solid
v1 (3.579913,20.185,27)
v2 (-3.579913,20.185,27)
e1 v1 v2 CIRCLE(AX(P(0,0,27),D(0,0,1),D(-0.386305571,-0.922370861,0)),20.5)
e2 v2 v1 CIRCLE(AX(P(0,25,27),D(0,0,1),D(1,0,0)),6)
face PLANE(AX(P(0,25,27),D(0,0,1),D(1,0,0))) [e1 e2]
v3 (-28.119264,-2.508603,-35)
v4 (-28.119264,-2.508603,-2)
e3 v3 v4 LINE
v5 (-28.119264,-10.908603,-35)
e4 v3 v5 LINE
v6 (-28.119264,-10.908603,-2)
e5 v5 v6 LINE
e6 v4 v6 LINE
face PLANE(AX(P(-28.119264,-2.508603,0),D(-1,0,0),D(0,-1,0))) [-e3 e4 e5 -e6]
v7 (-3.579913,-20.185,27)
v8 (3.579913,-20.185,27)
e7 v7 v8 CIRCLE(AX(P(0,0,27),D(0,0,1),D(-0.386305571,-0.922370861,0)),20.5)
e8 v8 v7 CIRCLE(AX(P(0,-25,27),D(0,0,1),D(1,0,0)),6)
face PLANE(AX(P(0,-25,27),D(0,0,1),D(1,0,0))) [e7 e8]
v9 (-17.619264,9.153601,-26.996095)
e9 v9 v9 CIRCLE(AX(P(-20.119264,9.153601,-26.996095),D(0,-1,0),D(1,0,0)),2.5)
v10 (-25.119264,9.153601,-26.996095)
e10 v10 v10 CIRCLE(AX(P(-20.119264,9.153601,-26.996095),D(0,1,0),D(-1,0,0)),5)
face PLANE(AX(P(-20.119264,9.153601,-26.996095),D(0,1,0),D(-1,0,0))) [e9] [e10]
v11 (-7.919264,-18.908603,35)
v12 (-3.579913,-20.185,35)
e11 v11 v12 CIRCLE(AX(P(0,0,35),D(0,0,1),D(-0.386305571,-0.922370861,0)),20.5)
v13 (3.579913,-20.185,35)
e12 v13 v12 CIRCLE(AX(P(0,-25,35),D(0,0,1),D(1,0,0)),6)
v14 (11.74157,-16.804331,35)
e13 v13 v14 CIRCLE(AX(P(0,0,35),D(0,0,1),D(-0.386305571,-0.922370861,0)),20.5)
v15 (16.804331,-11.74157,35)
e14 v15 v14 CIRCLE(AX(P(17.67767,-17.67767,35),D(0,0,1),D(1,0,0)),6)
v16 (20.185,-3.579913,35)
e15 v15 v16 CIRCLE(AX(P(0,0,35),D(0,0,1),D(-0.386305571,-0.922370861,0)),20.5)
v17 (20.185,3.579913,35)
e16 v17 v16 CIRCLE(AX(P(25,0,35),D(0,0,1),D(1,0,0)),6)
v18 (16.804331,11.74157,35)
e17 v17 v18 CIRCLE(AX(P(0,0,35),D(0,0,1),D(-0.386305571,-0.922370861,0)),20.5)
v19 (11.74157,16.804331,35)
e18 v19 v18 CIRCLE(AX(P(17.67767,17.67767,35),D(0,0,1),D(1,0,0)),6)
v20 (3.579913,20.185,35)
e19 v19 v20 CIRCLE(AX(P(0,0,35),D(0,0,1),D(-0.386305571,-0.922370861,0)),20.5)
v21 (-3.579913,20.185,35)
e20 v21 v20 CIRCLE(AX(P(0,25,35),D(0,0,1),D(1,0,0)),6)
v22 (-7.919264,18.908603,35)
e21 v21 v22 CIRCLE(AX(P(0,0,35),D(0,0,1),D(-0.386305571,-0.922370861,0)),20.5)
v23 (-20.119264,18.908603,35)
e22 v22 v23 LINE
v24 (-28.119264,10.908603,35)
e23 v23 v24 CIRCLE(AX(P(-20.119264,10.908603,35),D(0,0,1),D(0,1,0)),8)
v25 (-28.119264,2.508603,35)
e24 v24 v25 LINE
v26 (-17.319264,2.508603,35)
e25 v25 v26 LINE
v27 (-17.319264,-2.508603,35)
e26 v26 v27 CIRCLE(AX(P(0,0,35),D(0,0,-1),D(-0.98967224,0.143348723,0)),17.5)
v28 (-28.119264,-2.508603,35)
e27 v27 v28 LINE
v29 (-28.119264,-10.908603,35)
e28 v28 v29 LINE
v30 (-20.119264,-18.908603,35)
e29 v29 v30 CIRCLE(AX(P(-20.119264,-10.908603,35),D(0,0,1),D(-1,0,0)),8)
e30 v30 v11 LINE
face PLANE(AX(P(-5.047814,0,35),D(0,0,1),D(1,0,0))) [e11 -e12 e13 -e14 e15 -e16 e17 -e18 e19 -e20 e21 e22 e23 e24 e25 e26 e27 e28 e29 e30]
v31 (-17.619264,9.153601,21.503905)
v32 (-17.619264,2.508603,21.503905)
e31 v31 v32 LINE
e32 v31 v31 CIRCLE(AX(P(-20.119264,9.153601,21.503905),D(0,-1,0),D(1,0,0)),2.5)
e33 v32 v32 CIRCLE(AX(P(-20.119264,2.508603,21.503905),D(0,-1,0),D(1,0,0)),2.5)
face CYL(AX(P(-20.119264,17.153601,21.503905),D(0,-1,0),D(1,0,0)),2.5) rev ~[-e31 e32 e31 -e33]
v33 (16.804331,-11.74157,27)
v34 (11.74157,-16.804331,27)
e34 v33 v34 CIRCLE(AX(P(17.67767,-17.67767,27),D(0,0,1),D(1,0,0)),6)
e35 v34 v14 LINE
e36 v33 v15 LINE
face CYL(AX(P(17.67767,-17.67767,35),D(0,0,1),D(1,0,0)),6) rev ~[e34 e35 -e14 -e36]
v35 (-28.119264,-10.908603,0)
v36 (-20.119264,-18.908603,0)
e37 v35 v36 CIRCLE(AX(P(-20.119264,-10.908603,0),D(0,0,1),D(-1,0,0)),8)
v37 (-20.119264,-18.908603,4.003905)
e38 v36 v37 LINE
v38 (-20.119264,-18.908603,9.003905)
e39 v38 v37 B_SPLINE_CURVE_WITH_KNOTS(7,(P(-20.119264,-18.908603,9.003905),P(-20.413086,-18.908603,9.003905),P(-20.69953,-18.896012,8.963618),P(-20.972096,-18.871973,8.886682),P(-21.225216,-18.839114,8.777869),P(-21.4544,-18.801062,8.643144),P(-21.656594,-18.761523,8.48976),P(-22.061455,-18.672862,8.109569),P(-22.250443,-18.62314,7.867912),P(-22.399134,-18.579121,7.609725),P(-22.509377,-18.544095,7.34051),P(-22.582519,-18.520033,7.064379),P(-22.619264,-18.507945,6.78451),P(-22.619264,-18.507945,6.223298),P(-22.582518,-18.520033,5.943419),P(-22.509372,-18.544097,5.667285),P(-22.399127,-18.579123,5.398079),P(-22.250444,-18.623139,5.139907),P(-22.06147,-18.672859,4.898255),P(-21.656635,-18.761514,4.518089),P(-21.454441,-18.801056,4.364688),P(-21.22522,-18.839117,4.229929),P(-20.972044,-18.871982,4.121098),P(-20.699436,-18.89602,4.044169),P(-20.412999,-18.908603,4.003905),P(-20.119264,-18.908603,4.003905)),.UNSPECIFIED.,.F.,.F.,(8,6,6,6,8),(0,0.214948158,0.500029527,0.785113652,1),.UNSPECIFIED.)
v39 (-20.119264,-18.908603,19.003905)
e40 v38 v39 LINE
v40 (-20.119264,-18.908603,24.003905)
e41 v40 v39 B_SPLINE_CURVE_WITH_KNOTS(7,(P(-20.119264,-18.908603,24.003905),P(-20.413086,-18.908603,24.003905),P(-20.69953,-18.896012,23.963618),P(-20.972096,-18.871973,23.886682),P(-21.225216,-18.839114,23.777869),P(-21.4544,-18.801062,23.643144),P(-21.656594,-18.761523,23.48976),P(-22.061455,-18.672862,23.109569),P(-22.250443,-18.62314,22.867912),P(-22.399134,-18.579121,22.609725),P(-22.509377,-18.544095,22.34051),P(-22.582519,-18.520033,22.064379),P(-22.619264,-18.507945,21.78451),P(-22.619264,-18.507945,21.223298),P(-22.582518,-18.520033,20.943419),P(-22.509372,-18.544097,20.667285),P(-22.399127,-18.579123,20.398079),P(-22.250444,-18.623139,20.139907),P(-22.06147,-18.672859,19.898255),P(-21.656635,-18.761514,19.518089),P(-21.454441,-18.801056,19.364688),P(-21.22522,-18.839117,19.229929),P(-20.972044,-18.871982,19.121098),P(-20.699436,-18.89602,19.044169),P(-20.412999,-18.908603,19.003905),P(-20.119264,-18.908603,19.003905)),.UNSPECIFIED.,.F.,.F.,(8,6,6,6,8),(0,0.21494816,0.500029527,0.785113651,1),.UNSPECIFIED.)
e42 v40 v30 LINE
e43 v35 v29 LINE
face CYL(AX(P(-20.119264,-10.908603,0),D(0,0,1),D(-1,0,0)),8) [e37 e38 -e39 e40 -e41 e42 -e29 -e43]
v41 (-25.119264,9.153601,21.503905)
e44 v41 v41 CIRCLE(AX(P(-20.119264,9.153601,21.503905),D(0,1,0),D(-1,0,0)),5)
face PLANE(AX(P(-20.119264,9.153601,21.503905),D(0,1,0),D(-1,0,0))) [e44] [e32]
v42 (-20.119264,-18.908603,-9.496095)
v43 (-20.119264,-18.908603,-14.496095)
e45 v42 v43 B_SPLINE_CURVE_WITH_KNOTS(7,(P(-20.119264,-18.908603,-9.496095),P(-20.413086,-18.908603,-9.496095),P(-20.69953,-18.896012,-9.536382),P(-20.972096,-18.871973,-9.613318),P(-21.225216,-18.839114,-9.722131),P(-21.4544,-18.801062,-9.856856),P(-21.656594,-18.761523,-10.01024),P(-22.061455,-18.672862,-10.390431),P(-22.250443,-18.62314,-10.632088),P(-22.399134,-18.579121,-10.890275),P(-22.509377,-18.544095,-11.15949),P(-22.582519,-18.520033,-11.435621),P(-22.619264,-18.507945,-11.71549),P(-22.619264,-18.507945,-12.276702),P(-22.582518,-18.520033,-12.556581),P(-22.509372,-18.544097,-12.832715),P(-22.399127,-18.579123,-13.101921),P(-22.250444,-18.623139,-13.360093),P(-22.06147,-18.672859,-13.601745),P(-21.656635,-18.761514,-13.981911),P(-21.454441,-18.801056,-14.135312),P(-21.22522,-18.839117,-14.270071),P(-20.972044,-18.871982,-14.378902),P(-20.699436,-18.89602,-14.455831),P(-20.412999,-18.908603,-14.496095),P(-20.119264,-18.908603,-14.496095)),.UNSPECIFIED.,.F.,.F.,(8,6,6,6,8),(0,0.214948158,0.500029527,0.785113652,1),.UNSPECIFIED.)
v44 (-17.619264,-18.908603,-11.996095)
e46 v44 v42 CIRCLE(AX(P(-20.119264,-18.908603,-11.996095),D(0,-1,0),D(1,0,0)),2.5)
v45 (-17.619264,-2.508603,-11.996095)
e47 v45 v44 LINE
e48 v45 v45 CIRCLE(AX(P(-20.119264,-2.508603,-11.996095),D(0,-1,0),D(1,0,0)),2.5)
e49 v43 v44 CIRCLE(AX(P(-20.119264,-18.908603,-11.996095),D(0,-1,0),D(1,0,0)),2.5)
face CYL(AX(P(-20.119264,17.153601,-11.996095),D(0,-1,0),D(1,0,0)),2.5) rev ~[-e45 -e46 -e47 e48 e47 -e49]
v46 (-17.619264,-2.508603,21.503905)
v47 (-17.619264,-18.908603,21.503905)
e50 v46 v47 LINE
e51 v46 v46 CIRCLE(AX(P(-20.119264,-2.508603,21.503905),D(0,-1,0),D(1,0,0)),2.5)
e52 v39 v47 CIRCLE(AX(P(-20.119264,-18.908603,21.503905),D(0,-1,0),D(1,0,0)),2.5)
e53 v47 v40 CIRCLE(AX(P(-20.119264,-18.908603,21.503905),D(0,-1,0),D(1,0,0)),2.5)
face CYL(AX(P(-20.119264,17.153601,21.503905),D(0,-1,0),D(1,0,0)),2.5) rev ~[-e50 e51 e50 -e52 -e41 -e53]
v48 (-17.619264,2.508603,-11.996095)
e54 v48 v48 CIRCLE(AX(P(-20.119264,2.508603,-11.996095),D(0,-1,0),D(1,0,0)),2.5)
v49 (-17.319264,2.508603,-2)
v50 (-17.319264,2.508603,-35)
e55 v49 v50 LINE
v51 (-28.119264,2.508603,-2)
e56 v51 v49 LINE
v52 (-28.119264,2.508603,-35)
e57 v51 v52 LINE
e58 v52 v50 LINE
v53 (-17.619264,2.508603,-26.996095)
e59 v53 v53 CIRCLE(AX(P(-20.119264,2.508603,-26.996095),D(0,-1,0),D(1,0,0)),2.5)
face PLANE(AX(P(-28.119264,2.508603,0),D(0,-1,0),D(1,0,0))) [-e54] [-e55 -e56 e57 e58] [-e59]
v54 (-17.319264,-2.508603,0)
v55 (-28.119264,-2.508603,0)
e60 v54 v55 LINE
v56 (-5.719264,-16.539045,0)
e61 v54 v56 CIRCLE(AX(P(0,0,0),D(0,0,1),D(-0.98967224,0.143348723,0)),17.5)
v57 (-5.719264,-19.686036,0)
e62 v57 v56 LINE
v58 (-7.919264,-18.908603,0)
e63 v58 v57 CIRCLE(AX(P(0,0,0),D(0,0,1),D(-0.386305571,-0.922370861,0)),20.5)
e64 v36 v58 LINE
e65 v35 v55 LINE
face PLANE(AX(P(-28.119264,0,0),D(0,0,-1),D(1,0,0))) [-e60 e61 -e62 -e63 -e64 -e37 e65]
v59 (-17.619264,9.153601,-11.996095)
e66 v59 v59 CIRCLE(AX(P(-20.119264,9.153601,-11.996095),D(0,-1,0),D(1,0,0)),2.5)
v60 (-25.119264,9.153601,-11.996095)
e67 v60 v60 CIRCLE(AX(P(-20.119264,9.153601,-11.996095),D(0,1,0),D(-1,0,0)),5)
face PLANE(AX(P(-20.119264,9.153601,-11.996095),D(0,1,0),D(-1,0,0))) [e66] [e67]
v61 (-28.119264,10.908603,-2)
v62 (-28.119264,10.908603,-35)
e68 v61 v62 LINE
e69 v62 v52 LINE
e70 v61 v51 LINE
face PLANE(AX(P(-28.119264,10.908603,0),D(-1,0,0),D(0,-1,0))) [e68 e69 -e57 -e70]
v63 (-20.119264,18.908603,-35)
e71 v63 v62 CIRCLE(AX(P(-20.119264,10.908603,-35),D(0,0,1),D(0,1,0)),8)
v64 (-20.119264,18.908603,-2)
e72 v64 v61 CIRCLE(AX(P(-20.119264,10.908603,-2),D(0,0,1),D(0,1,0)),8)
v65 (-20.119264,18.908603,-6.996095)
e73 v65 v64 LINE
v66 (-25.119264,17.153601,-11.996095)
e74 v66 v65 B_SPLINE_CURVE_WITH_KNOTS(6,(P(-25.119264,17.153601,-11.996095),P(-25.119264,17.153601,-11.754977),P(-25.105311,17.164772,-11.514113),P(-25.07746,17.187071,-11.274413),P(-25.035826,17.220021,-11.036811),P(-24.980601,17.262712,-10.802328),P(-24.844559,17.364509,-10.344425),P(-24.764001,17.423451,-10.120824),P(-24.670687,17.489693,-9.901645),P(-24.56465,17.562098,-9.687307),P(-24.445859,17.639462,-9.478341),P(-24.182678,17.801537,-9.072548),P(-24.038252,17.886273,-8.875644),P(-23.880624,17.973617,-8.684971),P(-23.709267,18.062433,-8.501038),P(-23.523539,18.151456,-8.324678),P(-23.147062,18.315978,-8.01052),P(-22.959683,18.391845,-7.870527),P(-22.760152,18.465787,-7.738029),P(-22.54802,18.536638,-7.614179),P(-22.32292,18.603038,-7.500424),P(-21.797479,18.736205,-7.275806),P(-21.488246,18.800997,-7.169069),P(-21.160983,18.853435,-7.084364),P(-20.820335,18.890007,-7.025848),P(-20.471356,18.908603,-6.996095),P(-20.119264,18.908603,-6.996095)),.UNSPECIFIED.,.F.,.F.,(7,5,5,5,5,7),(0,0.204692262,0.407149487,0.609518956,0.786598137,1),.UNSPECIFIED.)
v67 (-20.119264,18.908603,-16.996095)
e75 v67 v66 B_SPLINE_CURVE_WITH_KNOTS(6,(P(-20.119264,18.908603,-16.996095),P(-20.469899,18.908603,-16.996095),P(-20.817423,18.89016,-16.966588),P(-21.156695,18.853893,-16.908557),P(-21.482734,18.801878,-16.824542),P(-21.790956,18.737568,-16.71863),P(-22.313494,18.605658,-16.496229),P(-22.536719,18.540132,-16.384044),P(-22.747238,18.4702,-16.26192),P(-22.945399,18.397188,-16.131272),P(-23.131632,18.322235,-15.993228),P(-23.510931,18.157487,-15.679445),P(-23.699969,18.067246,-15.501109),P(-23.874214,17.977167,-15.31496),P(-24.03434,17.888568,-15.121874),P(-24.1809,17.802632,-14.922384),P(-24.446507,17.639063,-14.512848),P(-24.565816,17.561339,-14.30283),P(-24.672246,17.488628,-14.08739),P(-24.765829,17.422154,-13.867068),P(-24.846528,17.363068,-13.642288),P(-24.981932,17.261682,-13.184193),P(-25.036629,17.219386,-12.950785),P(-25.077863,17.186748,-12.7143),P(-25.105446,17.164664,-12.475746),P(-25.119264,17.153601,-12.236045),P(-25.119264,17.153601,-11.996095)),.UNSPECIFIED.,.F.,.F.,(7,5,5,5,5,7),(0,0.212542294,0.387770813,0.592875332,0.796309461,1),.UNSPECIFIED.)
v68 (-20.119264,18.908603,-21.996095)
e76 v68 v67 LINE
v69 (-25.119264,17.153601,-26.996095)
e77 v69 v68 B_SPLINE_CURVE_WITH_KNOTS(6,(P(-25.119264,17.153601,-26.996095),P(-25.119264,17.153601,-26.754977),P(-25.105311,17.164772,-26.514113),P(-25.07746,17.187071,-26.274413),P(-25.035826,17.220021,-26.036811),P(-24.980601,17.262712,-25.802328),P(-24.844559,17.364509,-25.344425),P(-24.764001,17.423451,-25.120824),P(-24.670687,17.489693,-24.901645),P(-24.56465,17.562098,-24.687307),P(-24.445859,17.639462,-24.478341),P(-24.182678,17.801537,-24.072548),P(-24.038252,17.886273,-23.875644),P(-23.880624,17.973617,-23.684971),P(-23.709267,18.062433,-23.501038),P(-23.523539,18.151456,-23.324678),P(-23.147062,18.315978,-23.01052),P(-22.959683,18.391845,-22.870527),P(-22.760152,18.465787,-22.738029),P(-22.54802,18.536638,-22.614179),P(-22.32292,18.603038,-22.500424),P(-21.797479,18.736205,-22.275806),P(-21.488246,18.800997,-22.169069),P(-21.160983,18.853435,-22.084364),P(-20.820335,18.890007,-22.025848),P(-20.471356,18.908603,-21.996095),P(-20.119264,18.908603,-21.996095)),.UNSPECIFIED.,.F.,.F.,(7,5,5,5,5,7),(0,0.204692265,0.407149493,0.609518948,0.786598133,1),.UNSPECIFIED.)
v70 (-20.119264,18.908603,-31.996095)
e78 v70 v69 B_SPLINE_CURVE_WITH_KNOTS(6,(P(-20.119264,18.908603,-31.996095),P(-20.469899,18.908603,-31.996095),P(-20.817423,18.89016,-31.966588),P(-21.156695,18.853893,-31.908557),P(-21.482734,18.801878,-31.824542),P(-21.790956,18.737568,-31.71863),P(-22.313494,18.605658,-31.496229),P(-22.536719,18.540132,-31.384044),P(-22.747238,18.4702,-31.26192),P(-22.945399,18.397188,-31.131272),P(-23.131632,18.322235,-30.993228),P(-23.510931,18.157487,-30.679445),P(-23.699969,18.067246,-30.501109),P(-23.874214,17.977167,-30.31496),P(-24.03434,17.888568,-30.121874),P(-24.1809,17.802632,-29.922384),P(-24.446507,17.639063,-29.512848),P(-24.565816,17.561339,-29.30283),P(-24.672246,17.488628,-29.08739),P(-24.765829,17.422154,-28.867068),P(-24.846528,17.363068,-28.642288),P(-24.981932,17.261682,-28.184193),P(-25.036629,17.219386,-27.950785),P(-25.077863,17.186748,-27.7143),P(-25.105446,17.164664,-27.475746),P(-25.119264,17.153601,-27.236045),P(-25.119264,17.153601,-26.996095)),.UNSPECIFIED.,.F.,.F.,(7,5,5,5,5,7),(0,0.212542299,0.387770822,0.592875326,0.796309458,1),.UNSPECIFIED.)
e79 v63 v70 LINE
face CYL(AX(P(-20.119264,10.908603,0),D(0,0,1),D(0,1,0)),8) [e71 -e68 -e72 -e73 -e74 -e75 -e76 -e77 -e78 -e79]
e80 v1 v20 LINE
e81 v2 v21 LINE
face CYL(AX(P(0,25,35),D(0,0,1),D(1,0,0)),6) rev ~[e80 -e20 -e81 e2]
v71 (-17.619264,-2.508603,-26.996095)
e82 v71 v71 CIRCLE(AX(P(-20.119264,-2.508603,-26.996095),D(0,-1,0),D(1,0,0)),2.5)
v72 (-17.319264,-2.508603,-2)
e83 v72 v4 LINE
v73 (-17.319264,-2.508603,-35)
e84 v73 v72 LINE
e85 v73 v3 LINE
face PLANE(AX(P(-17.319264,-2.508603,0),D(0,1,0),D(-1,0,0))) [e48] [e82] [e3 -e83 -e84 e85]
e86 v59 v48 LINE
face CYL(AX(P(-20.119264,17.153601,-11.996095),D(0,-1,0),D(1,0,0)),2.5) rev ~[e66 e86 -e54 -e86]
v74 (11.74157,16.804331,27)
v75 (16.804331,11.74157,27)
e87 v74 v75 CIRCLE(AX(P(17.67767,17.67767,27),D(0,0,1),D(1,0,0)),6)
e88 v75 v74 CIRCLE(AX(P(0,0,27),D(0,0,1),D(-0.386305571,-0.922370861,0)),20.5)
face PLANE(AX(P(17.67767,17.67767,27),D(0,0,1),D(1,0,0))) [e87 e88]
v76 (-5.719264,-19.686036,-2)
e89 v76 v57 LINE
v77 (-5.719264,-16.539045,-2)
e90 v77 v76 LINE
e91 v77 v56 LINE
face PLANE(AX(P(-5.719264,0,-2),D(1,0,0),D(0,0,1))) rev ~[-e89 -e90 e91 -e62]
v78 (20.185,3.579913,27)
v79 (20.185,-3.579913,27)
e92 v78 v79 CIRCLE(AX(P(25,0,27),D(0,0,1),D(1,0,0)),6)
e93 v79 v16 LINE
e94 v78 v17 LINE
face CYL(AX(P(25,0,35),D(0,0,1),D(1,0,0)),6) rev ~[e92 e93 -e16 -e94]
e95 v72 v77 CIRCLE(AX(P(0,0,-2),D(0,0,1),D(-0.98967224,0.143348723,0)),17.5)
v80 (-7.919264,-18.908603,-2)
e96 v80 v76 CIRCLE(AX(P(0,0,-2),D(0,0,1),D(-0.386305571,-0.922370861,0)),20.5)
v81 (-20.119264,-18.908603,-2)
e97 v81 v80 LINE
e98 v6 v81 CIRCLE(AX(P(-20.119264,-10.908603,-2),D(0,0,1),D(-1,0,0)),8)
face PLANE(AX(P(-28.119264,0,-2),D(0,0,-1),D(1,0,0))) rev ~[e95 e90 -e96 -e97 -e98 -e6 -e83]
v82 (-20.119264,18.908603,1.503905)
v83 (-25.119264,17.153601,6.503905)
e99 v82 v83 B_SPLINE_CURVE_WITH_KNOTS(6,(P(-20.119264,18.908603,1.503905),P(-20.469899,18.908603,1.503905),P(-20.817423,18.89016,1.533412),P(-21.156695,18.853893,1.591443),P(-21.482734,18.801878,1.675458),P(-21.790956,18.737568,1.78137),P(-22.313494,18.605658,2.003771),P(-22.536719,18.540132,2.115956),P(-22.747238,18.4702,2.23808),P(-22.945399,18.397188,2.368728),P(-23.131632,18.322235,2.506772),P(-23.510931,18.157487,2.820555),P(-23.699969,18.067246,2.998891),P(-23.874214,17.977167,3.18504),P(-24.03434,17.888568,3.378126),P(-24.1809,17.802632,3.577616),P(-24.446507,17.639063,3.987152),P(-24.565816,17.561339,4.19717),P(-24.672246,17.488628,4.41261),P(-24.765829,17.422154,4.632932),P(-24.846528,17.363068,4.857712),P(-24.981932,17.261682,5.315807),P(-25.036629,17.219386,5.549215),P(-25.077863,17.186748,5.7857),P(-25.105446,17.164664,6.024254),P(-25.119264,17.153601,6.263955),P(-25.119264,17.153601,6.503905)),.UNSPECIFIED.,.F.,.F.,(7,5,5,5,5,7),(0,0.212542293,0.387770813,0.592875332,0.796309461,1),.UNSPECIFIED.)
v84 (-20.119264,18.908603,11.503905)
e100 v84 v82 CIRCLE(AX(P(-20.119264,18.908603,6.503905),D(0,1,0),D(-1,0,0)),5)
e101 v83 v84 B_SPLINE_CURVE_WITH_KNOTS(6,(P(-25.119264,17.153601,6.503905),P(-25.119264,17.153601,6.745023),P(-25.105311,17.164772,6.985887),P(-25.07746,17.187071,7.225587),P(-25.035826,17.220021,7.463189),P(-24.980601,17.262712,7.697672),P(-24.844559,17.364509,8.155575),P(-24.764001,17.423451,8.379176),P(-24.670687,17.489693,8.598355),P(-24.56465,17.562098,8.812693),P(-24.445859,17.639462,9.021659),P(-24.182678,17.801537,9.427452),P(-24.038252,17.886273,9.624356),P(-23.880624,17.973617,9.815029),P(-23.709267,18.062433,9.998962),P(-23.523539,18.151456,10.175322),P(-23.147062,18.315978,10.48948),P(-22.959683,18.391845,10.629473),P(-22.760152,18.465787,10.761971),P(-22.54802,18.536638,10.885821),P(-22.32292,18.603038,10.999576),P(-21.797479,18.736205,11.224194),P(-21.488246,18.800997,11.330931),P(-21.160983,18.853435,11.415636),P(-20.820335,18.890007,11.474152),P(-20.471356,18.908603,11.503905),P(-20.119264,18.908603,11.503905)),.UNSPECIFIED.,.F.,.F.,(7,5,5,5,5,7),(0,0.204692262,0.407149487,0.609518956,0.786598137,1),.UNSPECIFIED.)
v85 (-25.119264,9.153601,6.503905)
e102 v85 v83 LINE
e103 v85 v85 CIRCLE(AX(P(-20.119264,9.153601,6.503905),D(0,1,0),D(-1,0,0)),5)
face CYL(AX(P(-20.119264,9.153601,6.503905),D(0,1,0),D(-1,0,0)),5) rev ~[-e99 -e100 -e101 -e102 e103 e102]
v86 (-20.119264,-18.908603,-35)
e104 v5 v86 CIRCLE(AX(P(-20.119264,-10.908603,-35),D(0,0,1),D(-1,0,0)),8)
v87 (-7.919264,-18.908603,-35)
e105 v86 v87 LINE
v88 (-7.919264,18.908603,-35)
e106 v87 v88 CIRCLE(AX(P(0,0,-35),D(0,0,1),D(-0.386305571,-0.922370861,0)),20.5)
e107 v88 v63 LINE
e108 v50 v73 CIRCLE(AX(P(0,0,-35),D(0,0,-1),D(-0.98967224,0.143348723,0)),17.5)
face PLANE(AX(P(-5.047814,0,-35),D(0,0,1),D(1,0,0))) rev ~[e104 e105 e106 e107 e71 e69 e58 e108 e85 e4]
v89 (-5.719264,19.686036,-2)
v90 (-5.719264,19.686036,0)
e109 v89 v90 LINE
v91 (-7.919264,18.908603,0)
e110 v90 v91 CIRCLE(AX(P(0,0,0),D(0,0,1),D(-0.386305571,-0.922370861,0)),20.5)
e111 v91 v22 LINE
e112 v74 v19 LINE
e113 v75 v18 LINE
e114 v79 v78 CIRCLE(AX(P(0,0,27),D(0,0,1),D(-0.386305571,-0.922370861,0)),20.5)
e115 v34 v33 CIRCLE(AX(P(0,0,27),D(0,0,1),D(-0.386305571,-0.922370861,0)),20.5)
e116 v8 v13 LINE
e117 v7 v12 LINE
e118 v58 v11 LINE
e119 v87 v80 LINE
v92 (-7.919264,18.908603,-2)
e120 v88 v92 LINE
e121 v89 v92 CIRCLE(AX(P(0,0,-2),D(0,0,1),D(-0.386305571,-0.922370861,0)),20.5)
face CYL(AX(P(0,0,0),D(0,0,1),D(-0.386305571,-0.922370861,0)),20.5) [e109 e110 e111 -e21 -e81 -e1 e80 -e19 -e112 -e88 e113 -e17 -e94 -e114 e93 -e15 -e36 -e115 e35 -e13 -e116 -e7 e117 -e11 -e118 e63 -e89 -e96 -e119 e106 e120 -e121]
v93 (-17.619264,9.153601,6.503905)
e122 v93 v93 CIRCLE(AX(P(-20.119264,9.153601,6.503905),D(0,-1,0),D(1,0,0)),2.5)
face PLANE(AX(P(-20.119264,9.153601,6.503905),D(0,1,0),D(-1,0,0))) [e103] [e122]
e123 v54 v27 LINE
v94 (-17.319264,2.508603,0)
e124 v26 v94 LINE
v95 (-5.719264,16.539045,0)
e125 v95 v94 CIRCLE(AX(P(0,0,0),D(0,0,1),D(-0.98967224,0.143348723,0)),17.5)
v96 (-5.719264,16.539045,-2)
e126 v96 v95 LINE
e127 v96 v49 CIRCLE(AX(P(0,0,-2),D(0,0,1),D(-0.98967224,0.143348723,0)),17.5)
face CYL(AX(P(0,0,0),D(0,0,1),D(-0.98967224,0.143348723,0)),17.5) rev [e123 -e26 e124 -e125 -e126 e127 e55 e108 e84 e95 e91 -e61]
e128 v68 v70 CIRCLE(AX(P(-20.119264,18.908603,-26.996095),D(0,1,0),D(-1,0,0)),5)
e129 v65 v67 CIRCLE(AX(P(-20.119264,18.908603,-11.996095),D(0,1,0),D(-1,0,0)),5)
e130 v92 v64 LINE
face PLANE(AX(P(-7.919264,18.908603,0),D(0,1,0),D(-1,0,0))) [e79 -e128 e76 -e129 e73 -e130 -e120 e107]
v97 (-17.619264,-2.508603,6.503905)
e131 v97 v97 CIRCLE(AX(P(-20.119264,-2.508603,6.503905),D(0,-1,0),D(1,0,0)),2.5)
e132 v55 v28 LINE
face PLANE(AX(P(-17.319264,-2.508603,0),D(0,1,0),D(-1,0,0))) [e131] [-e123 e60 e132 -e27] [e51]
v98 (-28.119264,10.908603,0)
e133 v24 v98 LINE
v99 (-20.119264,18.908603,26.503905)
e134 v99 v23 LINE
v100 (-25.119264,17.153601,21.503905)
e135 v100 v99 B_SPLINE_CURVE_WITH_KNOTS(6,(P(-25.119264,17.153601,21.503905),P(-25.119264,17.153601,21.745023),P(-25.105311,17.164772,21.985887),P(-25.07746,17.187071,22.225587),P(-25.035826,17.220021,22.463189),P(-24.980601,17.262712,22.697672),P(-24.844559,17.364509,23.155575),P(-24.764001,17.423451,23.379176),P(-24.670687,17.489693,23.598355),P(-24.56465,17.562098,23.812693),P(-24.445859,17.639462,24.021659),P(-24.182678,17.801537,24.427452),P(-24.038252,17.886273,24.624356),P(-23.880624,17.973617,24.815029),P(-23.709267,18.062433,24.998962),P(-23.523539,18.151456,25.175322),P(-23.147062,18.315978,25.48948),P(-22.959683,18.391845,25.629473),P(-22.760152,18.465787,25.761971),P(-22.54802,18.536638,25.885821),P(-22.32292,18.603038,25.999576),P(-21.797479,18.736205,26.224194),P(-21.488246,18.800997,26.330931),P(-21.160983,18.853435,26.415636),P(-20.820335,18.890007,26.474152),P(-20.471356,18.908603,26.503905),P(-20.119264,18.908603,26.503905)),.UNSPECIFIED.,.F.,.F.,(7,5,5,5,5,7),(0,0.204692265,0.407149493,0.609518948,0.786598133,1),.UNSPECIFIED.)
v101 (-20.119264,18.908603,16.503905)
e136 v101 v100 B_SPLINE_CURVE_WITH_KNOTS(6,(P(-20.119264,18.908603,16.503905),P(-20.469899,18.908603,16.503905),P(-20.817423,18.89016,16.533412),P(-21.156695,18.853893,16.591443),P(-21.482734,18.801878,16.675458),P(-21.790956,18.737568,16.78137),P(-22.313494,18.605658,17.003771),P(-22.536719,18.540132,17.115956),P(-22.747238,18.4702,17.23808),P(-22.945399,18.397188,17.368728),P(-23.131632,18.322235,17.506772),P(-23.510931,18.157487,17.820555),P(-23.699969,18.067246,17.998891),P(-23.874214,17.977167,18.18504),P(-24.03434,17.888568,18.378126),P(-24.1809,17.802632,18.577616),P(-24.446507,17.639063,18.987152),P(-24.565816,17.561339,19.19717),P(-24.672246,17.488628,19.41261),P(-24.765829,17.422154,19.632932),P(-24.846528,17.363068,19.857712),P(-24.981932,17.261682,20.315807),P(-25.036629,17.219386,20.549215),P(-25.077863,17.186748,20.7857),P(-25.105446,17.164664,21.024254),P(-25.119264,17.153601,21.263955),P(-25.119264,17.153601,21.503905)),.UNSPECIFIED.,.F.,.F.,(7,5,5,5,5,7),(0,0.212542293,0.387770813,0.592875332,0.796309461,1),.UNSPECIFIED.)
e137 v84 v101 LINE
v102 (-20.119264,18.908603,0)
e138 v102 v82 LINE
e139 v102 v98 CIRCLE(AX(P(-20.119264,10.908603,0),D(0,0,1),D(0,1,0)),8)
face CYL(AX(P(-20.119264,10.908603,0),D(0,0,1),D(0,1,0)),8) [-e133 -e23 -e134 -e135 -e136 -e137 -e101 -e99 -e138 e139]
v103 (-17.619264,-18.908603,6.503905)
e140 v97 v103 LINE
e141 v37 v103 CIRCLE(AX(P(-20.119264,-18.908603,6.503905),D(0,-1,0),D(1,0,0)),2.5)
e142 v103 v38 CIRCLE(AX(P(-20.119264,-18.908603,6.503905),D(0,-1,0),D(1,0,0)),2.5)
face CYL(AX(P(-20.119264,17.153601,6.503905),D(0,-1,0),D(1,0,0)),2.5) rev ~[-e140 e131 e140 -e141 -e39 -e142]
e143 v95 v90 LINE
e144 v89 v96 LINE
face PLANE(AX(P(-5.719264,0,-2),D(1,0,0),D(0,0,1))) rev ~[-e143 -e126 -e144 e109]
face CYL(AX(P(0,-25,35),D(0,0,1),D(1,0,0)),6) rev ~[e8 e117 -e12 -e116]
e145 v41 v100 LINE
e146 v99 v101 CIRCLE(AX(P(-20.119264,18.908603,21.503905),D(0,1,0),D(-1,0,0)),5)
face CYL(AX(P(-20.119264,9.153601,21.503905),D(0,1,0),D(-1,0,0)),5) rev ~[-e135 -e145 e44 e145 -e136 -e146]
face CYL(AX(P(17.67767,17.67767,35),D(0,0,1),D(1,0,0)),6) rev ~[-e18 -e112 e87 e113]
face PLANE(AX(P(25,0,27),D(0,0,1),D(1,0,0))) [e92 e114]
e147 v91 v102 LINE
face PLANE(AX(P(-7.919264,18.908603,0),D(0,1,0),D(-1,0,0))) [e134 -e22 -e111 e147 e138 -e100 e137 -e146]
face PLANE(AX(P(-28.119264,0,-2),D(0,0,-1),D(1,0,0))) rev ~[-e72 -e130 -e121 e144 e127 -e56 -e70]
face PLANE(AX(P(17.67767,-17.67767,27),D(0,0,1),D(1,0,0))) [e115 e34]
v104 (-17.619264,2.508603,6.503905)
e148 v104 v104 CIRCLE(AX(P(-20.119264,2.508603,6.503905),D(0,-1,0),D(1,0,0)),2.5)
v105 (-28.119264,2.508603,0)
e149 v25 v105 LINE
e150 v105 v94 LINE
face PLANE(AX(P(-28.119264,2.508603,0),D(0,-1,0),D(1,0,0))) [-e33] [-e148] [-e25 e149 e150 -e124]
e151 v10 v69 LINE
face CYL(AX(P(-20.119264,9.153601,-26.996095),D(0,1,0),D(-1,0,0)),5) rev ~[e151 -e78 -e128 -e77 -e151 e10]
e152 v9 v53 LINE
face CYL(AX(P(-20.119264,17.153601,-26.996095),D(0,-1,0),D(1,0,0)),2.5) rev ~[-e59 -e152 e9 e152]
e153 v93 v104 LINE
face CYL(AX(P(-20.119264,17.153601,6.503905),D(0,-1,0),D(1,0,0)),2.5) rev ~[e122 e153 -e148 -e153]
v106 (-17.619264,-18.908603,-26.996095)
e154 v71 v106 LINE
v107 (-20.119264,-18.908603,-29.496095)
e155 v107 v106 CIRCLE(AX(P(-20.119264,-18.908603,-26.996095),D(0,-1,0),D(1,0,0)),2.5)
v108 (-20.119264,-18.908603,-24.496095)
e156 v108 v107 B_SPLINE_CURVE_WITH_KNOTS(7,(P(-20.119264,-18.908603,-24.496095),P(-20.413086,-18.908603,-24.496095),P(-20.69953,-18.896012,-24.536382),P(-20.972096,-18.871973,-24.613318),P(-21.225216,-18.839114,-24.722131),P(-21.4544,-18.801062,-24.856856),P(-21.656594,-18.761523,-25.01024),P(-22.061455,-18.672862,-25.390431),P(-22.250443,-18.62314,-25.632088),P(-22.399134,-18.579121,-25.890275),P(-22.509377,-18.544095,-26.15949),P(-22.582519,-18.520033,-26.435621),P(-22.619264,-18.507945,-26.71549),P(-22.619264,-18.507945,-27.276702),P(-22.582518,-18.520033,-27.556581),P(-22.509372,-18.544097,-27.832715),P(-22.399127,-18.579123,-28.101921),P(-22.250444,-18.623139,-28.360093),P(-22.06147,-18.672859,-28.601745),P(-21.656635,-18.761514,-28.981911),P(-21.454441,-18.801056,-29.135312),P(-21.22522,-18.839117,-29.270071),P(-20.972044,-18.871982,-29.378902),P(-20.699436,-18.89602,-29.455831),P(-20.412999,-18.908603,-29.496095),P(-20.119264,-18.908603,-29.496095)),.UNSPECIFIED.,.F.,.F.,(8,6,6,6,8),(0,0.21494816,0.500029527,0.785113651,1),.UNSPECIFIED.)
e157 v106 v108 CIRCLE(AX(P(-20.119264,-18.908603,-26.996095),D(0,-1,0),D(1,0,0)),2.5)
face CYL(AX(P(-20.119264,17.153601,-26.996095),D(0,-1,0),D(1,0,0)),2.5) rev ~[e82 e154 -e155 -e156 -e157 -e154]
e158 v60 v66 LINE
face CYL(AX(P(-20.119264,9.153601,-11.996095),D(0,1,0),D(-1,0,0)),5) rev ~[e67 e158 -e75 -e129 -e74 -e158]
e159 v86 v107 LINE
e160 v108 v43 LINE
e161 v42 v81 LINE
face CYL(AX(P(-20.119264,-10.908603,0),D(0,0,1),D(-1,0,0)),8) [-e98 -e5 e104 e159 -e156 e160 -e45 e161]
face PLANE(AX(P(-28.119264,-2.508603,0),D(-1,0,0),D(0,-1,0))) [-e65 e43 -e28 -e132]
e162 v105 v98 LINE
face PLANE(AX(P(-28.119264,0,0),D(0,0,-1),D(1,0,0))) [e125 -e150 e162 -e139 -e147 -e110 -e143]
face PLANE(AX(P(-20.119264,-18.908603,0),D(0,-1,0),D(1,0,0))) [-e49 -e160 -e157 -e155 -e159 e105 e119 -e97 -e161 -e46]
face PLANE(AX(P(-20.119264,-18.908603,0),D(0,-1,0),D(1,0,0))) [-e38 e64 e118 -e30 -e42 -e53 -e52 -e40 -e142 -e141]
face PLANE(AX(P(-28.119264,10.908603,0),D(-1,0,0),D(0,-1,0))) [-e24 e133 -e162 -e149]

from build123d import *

# Parameters (mm, degrees)
F1_DEPTH       = 35
F3_D           = 5
F3_START       = 1.7550021
F3_CBORE_D     = 10
F3_CBORE_DEPTH = 8
F5_W           = 22.4
F5_H           = 2
F6_DEPTH       = 25
F7_R           = 6
F8_DEPTH       = 8


with BuildPart() as f1:
    # F0 (on Top) → F1 (new body, symmetric)
    with BuildSketch(Plane.XY):
        with BuildLine():
            ThreePointArc((-17.3192642082, 2.5086026559), (17.5, 0), (-17.3192642082, -2.5086026559))
            Line((-17.3192642082, -2.5086026559), (-28.1192642082, -2.5086026559))
            Line((-28.1192642082, -2.5086026559), (-28.1192642082, -10.9086026559))
            ThreePointArc((-28.1192642082, -10.9086026559), (-25.7761184577, -16.5654569054), (-20.1192642082, -18.9086026559))
            Line((-20.1192642082, -18.9086026559), (-7.9192642082, -18.9086026559))
            ThreePointArc((-7.9192642082, -18.9086026559), (20.5, 0), (-7.9192642082, 18.9086026559))
            Line((-7.9192642082, 18.9086026559), (-20.1192642082, 18.9086026559))
            ThreePointArc((-20.1192642082, 18.9086026559), (-25.7761184577, 16.5654569054), (-28.1192642082, 10.9086026559))
            Line((-28.1192642082, 10.9086026559), (-28.1192642082, 2.5086026559))
            Line((-28.1192642082, 2.5086026559), (-17.3192642082, 2.5086026559))
        make_face()
    extrude(amount=F1_DEPTH, both=True)

    # F3 (through all)
    # its depths count from where the whole tool has entered the part; down to there all is cleared
    with Locations(Plane(origin=(0, 18.9086026559, 0), x_dir=(-1, 0, 0), z_dir=(0, 1, 0)).offset(-F3_START)):
        with Locations((20.1192642082, 21.5039052665), (20.1192642082, 6.5039052665), (20.1192642082, -26.9960947335), (20.1192642082, -11.9960947335)):
            CounterBoreHole(F3_D / 2, F3_CBORE_D / 2, F3_CBORE_DEPTH)

    # F5 (on Front) → F6 (cut, symmetric)
    with BuildSketch(Plane.XZ):
        with Locations((-16.9192642082, -1)):
            Rectangle(F5_W, F5_H)
    extrude(amount=F6_DEPTH, both=True, mode=Mode.SUBTRACT)

    # F7 (on face) → F8 (cut)
    with BuildSketch(Plane.XY.offset(35)):
        with Locations((0, -25)):
            Circle(F7_R)
        with Locations((17.6776695297, -17.6776695297)):
            Circle(F7_R)
        with Locations((25, 0)):
            Circle(F7_R)
        with Locations((17.6776695297, 17.6776695297)):
            Circle(F7_R)
        with Locations((0, 25)):
            Circle(F7_R)
    extrude(amount=-F8_DEPTH, mode=Mode.SUBTRACT)


solid = f1.part
